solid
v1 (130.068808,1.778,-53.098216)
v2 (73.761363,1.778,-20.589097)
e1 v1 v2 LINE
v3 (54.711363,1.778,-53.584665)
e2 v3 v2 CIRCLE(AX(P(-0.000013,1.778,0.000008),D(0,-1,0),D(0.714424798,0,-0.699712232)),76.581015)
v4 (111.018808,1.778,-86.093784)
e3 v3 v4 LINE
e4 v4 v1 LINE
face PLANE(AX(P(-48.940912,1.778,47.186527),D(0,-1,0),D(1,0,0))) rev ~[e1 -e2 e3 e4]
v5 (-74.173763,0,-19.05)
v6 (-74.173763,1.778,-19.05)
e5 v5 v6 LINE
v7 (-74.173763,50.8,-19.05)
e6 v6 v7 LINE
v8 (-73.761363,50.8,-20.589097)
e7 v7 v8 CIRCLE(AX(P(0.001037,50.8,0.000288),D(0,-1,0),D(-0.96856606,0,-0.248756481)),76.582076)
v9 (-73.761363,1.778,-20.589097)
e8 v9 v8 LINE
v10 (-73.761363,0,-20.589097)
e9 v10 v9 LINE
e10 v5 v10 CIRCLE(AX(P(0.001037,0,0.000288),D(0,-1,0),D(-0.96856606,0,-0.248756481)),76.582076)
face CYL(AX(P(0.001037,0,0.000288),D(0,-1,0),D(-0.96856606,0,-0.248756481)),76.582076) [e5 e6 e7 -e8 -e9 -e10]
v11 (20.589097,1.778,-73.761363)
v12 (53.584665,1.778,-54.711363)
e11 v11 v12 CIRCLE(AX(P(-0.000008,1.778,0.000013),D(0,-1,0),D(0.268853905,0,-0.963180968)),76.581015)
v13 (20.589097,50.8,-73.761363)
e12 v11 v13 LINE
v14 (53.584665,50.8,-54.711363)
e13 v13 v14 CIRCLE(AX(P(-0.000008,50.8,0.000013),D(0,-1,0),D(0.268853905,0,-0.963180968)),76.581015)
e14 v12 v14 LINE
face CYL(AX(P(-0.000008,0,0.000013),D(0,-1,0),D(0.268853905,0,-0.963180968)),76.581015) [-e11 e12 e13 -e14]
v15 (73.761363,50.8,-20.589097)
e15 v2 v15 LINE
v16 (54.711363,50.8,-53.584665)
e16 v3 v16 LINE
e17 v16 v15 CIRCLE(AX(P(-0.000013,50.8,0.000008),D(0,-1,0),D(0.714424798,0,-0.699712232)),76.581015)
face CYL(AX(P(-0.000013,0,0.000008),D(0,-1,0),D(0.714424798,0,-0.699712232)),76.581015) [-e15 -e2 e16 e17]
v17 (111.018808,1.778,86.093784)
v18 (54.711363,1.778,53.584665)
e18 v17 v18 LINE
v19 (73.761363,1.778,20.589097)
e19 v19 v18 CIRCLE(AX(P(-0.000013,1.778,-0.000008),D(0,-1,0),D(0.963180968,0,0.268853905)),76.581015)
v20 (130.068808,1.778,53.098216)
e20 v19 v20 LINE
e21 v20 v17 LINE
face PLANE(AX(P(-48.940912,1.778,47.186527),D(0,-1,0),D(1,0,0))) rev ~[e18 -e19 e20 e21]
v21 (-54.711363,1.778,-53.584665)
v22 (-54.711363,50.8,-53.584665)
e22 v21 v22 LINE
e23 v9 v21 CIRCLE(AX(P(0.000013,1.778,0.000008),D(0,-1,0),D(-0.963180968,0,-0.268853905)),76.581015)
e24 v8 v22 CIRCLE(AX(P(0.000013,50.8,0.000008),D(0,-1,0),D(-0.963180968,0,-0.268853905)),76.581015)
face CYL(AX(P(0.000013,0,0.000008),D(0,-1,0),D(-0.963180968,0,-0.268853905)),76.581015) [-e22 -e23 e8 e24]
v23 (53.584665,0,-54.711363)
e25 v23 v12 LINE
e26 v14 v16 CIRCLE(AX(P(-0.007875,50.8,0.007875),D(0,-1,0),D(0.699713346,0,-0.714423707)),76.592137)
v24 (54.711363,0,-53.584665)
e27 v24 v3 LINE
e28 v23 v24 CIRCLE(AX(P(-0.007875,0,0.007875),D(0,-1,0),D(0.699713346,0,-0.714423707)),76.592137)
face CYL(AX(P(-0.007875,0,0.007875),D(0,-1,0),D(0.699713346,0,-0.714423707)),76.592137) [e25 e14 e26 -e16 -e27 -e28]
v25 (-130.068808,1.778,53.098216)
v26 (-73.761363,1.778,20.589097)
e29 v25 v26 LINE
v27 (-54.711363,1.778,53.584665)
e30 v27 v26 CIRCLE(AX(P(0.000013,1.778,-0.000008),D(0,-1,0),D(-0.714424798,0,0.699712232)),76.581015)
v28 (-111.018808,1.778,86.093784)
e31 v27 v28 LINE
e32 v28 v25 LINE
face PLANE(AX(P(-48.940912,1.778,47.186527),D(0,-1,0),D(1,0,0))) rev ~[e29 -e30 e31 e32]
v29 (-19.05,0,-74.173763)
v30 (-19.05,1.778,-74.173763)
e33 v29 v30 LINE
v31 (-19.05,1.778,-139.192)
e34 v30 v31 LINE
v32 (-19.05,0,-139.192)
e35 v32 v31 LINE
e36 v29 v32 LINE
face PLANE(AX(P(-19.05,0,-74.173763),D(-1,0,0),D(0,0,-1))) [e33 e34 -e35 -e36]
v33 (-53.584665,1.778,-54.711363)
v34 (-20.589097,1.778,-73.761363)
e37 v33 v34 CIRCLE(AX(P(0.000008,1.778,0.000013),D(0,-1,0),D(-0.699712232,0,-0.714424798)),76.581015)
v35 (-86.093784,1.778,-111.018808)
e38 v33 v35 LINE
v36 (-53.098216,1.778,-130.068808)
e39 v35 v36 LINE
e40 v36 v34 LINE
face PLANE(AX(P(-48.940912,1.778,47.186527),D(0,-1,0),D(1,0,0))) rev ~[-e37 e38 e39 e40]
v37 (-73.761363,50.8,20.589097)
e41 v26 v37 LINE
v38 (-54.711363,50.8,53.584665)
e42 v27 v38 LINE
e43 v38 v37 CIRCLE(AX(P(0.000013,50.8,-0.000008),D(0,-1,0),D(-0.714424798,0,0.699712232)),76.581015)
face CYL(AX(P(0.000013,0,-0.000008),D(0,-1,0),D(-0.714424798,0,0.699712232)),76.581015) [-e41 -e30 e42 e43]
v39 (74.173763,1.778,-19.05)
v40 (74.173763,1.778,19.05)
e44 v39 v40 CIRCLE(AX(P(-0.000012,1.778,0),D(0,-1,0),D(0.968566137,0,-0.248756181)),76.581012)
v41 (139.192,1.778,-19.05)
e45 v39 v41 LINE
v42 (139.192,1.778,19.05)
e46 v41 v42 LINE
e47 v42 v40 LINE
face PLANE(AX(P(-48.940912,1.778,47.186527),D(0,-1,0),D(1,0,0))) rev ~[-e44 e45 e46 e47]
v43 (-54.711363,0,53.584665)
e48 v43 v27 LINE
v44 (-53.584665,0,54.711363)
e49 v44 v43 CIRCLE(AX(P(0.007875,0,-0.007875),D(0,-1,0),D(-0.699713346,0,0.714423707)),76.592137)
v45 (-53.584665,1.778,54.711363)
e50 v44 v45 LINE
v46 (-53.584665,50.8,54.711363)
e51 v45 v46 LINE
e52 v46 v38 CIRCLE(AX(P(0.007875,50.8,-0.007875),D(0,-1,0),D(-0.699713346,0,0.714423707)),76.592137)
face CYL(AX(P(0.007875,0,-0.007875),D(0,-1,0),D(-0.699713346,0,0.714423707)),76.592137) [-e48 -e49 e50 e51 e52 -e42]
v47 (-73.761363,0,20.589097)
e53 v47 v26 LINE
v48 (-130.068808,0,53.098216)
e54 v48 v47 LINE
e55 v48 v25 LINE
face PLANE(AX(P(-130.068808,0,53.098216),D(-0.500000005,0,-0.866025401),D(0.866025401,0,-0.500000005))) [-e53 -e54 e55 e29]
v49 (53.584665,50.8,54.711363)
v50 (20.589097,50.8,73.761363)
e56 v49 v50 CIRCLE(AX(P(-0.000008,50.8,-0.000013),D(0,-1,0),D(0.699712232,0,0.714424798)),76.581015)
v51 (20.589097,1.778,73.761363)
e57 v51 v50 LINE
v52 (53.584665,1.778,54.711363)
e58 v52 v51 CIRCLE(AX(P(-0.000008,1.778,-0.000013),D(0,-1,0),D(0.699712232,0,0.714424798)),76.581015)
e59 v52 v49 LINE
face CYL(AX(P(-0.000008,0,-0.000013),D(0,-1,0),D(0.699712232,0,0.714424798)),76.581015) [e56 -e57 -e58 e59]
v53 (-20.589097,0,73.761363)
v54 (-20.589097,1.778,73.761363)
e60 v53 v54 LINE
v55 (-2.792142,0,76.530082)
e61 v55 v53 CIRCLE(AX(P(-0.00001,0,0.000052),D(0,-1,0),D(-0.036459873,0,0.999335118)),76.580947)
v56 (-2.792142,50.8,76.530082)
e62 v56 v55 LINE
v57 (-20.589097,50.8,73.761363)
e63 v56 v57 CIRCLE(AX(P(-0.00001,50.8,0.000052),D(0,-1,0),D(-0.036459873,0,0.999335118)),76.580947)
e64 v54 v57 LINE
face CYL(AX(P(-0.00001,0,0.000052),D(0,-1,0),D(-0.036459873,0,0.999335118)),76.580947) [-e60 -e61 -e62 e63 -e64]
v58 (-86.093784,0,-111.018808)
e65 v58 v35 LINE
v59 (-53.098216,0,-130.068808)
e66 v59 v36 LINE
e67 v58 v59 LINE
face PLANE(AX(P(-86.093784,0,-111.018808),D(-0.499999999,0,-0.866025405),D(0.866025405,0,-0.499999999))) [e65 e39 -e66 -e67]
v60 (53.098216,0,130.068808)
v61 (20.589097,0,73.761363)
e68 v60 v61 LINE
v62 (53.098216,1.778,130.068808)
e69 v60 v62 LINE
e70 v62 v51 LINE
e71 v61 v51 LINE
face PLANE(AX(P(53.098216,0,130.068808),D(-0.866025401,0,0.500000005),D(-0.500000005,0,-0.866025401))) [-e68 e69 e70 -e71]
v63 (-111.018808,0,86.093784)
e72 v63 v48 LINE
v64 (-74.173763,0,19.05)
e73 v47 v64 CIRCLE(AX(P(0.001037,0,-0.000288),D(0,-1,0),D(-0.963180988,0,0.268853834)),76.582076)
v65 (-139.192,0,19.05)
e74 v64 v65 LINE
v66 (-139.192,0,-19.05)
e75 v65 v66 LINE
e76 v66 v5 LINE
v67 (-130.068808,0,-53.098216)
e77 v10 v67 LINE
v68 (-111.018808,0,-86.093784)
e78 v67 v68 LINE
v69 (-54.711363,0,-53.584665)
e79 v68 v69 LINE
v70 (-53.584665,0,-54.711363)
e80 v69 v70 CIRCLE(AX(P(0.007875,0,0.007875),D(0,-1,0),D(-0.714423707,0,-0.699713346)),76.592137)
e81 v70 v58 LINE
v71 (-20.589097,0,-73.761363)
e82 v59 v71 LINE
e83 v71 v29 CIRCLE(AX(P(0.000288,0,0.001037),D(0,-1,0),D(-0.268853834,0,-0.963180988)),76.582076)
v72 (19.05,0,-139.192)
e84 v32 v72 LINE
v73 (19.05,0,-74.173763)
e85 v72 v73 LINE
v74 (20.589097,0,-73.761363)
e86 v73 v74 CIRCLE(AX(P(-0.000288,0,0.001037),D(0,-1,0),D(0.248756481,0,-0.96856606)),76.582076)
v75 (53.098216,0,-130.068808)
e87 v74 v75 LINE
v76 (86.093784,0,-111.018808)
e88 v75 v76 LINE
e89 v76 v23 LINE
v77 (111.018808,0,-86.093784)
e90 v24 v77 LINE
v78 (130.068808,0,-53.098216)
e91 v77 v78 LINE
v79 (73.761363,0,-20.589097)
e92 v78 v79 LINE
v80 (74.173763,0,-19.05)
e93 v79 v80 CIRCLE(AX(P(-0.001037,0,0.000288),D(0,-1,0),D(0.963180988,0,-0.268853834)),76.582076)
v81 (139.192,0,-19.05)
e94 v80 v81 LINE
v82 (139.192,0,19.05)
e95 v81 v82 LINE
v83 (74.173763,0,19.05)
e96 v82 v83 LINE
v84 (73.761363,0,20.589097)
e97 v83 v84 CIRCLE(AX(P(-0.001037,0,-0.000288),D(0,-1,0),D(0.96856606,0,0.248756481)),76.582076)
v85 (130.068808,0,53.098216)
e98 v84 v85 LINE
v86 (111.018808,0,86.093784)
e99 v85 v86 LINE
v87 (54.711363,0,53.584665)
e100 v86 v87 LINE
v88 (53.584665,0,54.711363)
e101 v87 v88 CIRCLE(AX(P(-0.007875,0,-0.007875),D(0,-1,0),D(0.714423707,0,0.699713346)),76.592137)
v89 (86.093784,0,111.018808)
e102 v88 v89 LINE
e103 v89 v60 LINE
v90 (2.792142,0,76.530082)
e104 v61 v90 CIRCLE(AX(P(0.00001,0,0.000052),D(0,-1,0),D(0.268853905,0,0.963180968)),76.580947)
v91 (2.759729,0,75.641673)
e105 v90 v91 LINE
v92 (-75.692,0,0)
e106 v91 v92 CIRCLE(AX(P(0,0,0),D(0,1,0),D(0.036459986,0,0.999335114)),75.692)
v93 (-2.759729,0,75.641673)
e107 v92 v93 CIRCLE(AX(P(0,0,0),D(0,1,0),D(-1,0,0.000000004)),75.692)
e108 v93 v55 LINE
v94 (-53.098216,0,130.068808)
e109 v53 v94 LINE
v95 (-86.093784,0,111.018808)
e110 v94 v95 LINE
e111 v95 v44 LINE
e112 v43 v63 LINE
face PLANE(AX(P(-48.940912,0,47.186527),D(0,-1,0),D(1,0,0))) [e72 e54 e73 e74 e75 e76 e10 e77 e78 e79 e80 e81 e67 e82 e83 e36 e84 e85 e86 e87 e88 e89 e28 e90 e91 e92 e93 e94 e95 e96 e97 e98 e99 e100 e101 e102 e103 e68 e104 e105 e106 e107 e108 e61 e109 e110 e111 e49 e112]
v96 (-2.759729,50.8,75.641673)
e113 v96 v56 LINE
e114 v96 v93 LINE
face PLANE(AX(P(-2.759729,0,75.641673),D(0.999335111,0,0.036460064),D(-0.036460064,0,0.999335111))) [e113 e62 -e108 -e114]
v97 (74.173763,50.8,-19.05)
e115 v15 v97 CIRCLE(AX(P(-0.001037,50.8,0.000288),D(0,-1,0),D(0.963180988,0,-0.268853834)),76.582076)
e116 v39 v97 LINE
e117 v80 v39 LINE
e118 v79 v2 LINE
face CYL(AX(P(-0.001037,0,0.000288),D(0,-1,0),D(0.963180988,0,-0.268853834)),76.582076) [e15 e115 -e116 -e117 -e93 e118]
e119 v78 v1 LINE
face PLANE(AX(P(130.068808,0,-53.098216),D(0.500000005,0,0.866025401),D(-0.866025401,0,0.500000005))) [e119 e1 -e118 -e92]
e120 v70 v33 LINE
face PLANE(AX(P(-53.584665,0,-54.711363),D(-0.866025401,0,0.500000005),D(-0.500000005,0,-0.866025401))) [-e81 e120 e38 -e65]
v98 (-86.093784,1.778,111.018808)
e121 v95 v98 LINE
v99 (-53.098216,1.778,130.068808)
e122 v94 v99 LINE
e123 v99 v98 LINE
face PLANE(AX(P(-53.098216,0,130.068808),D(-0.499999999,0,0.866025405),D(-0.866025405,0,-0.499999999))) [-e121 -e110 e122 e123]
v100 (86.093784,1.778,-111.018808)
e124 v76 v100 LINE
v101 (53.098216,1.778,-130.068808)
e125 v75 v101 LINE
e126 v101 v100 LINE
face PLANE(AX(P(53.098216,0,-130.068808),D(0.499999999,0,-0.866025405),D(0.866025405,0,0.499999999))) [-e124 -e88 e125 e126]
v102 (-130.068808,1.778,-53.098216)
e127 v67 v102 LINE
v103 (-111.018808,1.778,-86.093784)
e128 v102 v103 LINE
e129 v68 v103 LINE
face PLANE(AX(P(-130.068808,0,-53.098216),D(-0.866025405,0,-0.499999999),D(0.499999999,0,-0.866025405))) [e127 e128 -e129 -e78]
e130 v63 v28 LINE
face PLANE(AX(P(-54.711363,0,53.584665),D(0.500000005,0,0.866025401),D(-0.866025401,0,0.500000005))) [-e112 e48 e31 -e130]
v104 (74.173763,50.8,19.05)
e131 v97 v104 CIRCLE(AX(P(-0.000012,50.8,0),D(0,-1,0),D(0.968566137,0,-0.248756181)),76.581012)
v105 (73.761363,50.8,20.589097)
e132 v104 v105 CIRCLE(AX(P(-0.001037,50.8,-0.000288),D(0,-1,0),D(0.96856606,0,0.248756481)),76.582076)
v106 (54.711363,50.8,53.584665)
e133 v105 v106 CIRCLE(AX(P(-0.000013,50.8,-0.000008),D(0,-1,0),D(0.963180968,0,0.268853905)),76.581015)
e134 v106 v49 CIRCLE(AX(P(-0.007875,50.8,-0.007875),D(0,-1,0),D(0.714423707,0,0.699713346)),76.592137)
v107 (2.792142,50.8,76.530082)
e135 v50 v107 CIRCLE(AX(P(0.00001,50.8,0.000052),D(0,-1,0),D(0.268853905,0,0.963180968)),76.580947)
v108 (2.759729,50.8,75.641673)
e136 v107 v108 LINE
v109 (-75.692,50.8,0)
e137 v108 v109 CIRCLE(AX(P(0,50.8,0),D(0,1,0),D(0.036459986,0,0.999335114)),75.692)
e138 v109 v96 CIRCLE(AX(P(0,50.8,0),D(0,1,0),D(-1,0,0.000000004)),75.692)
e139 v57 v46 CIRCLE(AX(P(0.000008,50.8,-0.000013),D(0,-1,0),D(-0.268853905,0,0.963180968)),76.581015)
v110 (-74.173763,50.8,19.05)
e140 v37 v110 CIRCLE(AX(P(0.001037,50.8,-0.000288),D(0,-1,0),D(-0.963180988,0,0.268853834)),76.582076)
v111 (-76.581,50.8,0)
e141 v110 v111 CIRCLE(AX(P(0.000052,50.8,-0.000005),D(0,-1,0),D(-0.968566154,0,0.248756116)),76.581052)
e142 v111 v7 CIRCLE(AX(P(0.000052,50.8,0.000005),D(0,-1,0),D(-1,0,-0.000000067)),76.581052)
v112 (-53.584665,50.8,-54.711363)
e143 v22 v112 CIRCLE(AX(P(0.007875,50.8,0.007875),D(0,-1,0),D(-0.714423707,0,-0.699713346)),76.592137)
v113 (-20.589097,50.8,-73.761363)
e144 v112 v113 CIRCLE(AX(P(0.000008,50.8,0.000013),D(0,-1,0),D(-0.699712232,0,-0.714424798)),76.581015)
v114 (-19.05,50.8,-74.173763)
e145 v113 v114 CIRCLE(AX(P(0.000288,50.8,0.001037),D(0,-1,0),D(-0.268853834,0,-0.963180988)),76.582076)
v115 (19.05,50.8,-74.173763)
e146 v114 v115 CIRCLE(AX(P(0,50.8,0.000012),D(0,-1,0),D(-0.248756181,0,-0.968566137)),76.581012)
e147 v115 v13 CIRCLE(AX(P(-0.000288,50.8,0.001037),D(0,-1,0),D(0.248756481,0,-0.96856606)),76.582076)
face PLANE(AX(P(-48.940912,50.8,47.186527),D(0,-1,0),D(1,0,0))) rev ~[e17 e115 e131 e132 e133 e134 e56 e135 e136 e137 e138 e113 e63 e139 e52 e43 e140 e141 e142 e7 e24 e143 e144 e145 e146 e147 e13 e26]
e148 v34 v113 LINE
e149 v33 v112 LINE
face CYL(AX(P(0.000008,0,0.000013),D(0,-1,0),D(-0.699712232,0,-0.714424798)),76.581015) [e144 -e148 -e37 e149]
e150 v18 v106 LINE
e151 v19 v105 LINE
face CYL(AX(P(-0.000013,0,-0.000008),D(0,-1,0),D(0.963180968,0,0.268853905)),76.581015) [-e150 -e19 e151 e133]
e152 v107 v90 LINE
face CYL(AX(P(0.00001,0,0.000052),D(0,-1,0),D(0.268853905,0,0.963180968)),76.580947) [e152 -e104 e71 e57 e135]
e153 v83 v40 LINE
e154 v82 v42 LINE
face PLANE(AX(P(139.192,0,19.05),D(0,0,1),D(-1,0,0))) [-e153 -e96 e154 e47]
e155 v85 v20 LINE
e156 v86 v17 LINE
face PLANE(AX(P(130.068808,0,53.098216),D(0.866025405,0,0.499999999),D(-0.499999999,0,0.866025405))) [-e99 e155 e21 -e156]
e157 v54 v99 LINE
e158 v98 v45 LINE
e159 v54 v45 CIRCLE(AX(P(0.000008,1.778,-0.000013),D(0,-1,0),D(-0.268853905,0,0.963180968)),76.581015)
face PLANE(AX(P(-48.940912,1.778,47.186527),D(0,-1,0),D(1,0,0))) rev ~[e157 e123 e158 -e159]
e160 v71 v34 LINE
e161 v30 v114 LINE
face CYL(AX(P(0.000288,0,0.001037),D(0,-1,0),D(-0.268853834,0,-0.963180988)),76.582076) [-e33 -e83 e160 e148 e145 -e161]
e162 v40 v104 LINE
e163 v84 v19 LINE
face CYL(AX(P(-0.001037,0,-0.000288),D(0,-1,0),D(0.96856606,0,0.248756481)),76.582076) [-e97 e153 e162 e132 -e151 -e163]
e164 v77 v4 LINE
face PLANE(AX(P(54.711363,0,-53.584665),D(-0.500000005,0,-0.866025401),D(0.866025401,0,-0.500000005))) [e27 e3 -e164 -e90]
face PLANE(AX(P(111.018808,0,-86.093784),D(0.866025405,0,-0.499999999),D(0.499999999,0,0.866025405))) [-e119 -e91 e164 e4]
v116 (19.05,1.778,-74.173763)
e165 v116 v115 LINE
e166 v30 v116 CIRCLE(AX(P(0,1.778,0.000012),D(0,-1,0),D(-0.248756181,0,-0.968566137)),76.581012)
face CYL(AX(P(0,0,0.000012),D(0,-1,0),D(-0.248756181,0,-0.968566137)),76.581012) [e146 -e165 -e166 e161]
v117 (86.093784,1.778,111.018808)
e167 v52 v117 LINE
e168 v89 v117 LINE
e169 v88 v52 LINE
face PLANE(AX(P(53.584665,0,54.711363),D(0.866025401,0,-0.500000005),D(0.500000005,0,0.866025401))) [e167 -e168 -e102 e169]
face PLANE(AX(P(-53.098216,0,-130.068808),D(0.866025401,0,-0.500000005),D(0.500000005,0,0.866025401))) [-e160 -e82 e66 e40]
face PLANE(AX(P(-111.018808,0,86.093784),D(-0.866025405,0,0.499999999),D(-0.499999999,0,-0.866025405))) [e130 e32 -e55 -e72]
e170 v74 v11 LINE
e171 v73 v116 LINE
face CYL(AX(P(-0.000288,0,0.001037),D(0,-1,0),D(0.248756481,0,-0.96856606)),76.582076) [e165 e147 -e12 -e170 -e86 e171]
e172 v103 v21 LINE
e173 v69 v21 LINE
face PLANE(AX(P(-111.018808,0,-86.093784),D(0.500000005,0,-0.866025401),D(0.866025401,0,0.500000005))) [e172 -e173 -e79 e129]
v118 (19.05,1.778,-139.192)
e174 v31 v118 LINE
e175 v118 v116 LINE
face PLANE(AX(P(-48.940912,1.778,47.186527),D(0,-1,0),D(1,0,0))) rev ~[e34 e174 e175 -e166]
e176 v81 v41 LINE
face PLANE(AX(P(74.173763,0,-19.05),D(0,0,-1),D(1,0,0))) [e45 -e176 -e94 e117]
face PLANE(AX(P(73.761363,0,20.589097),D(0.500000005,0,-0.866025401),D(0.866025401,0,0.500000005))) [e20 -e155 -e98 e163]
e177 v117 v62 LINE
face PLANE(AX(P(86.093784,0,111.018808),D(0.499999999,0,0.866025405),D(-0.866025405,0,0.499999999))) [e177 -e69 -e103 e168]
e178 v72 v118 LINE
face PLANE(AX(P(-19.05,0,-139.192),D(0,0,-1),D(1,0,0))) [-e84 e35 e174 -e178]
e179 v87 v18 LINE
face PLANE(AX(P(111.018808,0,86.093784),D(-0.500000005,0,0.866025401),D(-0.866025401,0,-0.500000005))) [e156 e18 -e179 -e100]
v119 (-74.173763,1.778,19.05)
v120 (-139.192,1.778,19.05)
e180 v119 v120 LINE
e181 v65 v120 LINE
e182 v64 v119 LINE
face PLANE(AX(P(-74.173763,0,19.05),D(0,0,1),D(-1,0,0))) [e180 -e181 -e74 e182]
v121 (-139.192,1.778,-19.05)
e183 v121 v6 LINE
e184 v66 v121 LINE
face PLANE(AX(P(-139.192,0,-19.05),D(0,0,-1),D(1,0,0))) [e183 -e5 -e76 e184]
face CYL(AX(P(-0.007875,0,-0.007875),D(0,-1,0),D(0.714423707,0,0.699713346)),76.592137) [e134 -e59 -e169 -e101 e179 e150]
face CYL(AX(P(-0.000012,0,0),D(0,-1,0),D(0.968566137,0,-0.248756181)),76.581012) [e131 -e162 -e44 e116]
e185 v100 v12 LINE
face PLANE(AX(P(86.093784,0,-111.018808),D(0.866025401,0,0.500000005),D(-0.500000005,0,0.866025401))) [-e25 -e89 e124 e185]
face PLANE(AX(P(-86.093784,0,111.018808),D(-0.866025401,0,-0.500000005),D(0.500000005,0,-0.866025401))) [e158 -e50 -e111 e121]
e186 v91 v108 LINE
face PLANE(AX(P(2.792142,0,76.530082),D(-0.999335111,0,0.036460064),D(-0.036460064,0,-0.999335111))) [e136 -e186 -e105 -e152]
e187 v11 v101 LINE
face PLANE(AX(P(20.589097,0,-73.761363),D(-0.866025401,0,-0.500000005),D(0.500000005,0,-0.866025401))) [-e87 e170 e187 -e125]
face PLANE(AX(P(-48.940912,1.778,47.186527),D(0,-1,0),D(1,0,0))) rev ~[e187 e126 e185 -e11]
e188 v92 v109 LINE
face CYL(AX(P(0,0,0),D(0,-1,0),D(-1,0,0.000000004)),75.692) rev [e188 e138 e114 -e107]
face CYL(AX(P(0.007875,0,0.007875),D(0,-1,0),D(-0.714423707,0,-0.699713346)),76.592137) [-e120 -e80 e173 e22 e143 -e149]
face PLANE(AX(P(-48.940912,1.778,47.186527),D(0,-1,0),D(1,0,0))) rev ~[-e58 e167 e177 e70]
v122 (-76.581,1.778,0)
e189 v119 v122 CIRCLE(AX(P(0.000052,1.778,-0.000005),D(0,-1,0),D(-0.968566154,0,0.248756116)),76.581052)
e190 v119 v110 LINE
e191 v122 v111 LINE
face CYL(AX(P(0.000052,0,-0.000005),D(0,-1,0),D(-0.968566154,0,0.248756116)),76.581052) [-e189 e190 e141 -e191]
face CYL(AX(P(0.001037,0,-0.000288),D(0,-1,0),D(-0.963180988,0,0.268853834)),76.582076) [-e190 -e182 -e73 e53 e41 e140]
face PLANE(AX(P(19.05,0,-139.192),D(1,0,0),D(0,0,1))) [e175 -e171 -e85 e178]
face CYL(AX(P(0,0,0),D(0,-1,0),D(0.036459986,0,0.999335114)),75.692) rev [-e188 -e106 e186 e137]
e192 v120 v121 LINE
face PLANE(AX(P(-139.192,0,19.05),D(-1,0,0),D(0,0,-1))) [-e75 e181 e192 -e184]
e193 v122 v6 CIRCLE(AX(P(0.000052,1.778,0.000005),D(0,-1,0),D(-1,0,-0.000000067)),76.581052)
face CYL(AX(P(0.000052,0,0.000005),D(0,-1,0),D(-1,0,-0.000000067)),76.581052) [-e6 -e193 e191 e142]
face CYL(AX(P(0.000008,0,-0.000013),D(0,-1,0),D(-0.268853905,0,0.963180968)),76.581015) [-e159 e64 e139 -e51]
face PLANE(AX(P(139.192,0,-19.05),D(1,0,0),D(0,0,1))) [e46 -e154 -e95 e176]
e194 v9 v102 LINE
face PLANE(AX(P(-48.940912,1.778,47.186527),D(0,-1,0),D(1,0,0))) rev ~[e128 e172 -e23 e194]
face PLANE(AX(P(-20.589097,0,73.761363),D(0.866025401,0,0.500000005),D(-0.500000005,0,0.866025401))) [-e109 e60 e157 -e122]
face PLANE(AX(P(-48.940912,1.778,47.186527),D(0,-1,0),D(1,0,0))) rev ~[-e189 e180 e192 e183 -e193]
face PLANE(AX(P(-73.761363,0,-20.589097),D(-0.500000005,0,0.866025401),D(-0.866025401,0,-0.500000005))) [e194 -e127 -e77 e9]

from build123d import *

# Parameters (mm, degrees)
F1_DEPTH = 50.8
F2_DEPTH = 1.778


with BuildPart() as f1:
    # F0 (on Front) → F1 (new body)
    with BuildSketch(Plane.XZ):
        with BuildLine():
            ThreePointArc((-75.692, 0), (-54.489303, 52.537555), (-2.759729, 75.641673))
            Line((-2.759729, 75.641673), (-2.792142, 76.530082))
            ThreePointArc((-2.792142, 76.530082), (-11.7723, 75.670751), (-20.589097, 73.761363))
            ThreePointArc((-20.589097, 73.761363), (-38.2905, 66.321091), (-53.584665, 54.711363))
            ThreePointArc((-53.584665, 54.711363), (-54.150944, 54.150944), (-54.711363, 53.584665))
            ThreePointArc((-54.711363, 53.584665), (-66.321091, 38.2905), (-73.761363, 20.589097))
            ThreePointArc((-73.761363, 20.589097), (-73.971566, 19.820621), (-74.173763, 19.05))
            ThreePointArc((-74.173763, 19.05), (-75.976807, 9.600746), (-76.581, 0))
            Line((-76.581, 0), (-75.692, 0))
        make_face()
        with BuildLine():
            ThreePointArc((2.759729, 75.641673), (52.537555, -54.489303), (-75.692, 0))
            Line((-75.692, 0), (-76.581, 0))
            ThreePointArc((-76.581, 0), (-75.976807, -9.600746), (-74.173763, -19.05))
            ThreePointArc((-74.173763, -19.05), (-73.971566, -19.820621), (-73.761363, -20.589097))
            ThreePointArc((-73.761363, -20.589097), (-66.321091, -38.2905), (-54.711363, -53.584665))
            ThreePointArc((-54.711363, -53.584665), (-54.150944, -54.150944), (-53.584665, -54.711363))
            ThreePointArc((-53.584665, -54.711363), (-38.2905, -66.321091), (-20.589097, -73.761363))
            ThreePointArc((-20.589097, -73.761363), (-19.820621, -73.971566), (-19.05, -74.173763))
            ThreePointArc((-19.05, -74.173763), (0, -76.581), (19.05, -74.173763))
            ThreePointArc((19.05, -74.173763), (19.820621, -73.971566), (20.589097, -73.761363))
            ThreePointArc((20.589097, -73.761363), (38.2905, -66.321091), (53.584665, -54.711363))
            ThreePointArc((53.584665, -54.711363), (54.150944, -54.150944), (54.711363, -53.584665))
            ThreePointArc((54.711363, -53.584665), (66.321091, -38.2905), (73.761363, -20.589097))
            ThreePointArc((73.761363, -20.589097), (73.971566, -19.820621), (74.173763, -19.05))
            ThreePointArc((74.173763, -19.05), (76.581, 0), (74.173763, 19.05))
            ThreePointArc((74.173763, 19.05), (73.971566, 19.820621), (73.761363, 20.589097))
            ThreePointArc((73.761363, 20.589097), (66.321091, 38.2905), (54.711363, 53.584665))
            ThreePointArc((54.711363, 53.584665), (54.150944, 54.150944), (53.584665, 54.711363))
            ThreePointArc((53.584665, 54.711363), (38.2905, 66.321091), (20.589097, 73.761363))
            ThreePointArc((20.589097, 73.761363), (11.7723, 75.670751), (2.792142, 76.530082))
            Line((2.792142, 76.530082), (2.759729, 75.641673))
        make_face()
    extrude(amount=-F1_DEPTH)

    # F0 (on Front) → F2 (join)
    with BuildSketch(Plane.XZ):
        with BuildLine():
            ThreePointArc((-75.692, 0), (-54.489303, 52.537555), (-2.759729, 75.641673))
            Line((-2.759729, 75.641673), (-2.792142, 76.530082))
            ThreePointArc((-2.792142, 76.530082), (-11.7723, 75.670751), (-20.589097, 73.761363))
            ThreePointArc((-20.589097, 73.761363), (-38.2905, 66.321091), (-53.584665, 54.711363))
            ThreePointArc((-53.584665, 54.711363), (-54.150944, 54.150944), (-54.711363, 53.584665))
            ThreePointArc((-54.711363, 53.584665), (-66.321091, 38.2905), (-73.761363, 20.589097))
            ThreePointArc((-73.761363, 20.589097), (-73.971566, 19.820621), (-74.173763, 19.05))
            ThreePointArc((-74.173763, 19.05), (-75.976807, 9.600746), (-76.581, 0))
            Line((-76.581, 0), (-75.692, 0))
        make_face()
        with BuildLine():
            ThreePointArc((2.759729, 75.641673), (52.537555, -54.489303), (-75.692, 0))
            Line((-75.692, 0), (-76.581, 0))
            ThreePointArc((-76.581, 0), (-75.976807, -9.600746), (-74.173763, -19.05))
            ThreePointArc((-74.173763, -19.05), (-73.971566, -19.820621), (-73.761363, -20.589097))
            ThreePointArc((-73.761363, -20.589097), (-66.321091, -38.2905), (-54.711363, -53.584665))
            ThreePointArc((-54.711363, -53.584665), (-54.150944, -54.150944), (-53.584665, -54.711363))
            ThreePointArc((-53.584665, -54.711363), (-38.2905, -66.321091), (-20.589097, -73.761363))
            ThreePointArc((-20.589097, -73.761363), (-19.820621, -73.971566), (-19.05, -74.173763))
            ThreePointArc((-19.05, -74.173763), (0, -76.581), (19.05, -74.173763))
            ThreePointArc((19.05, -74.173763), (19.820621, -73.971566), (20.589097, -73.761363))
            ThreePointArc((20.589097, -73.761363), (38.2905, -66.321091), (53.584665, -54.711363))
            ThreePointArc((53.584665, -54.711363), (54.150944, -54.150944), (54.711363, -53.584665))
            ThreePointArc((54.711363, -53.584665), (66.321091, -38.2905), (73.761363, -20.589097))
            ThreePointArc((73.761363, -20.589097), (73.971566, -19.820621), (74.173763, -19.05))
            ThreePointArc((74.173763, -19.05), (76.581, 0), (74.173763, 19.05))
            ThreePointArc((74.173763, 19.05), (73.971566, 19.820621), (73.761363, 20.589097))
            ThreePointArc((73.761363, 20.589097), (66.321091, 38.2905), (54.711363, 53.584665))
            ThreePointArc((54.711363, 53.584665), (54.150944, 54.150944), (53.584665, 54.711363))
            ThreePointArc((53.584665, 54.711363), (38.2905, 66.321091), (20.589097, 73.761363))
            ThreePointArc((20.589097, 73.761363), (11.7723, 75.670751), (2.792142, 76.530082))
            Line((2.792142, 76.530082), (2.759729, 75.641673))
        make_face()
        with BuildLine():
            Line((-139.192, 0), (-76.581, 0))
            ThreePointArc((-76.581, 0), (-75.976807, 9.600746), (-74.173763, 19.05))
            Line((-74.173763, 19.05), (-139.192, 19.05))
            Line((-139.192, 19.05), (-139.192, 0))
        make_face()
        with BuildLine():
            ThreePointArc((-74.173763, -19.05), (-75.976807, -9.600746), (-76.581, 0))
            Line((-76.581, 0), (-139.192, 0))
            Line((-139.192, 0), (-139.192, -19.05))
            Line((-139.192, -19.05), (-74.173763, -19.05))
        make_face()
        with BuildLine():
            ThreePointArc((-53.584665, 54.711363), (-38.2905, 66.321091), (-20.589097, 73.761363))
            Line((-20.589097, 73.761363), (-53.098216, 130.068808))
            Line((-53.098216, 130.068808), (-69.596, 120.543808))
            Line((-69.596, 120.543808), (-86.093784, 111.018808))
            Line((-86.093784, 111.018808), (-53.584665, 54.711363))
        make_face()
        with BuildLine():
            Line((53.098216, 130.068808), (20.589097, 73.761363))
            ThreePointArc((20.589097, 73.761363), (38.2905, 66.321091), (53.584665, 54.711363))
            Line((53.584665, 54.711363), (86.093784, 111.018808))
            Line((86.093784, 111.018808), (69.596, 120.543808))
            Line((69.596, 120.543808), (53.098216, 130.068808))
        make_face()
        with BuildLine():
            Line((-130.068808, 53.098216), (-73.761363, 20.589097))
            ThreePointArc((-73.761363, 20.589097), (-66.321091, 38.2905), (-54.711363, 53.584665))
            Line((-54.711363, 53.584665), (-111.018808, 86.093784))
            Line((-111.018808, 86.093784), (-120.543808, 69.596))
            Line((-120.543808, 69.596), (-130.068808, 53.098216))
        make_face()
        with BuildLine():
            ThreePointArc((-54.711363, -53.584665), (-66.321091, -38.2905), (-73.761363, -20.589097))
            Line((-73.761363, -20.589097), (-130.068808, -53.098216))
            Line((-130.068808, -53.098216), (-120.543808, -69.596))
            Line((-120.543808, -69.596), (-111.018808, -86.093784))
            Line((-111.018808, -86.093784), (-54.711363, -53.584665))
        make_face()
        with BuildLine():
            Line((111.018808, 86.093784), (54.711363, 53.584665))
            ThreePointArc((54.711363, 53.584665), (66.321091, 38.2905), (73.761363, 20.589097))
            Line((73.761363, 20.589097), (130.068808, 53.098216))
            Line((130.068808, 53.098216), (120.543808, 69.596))
            Line((120.543808, 69.596), (111.018808, 86.093784))
        make_face()
        with BuildLine():
            ThreePointArc((-20.589097, -73.761363), (-38.2905, -66.321091), (-53.584665, -54.711363))
            Line((-53.584665, -54.711363), (-86.093784, -111.018808))
            Line((-86.093784, -111.018808), (-69.596, -120.543808))
            Line((-69.596, -120.543808), (-53.098216, -130.068808))
            Line((-53.098216, -130.068808), (-20.589097, -73.761363))
        make_face()
        with BuildLine():
            Line((139.192, 19.05), (74.173763, 19.05))
            ThreePointArc((74.173763, 19.05), (76.581, 0), (74.173763, -19.05))
            Line((74.173763, -19.05), (139.192, -19.05))
            Line((139.192, -19.05), (139.192, 0))
            Line((139.192, 0), (139.192, 19.05))
        make_face()
        with BuildLine():
            ThreePointArc((19.05, -74.173763), (0, -76.581), (-19.05, -74.173763))
            Line((-19.05, -74.173763), (-19.05, -139.192))
            Line((-19.05, -139.192), (0, -139.192))
            Line((0, -139.192), (19.05, -139.192))
            Line((19.05, -139.192), (19.05, -74.173763))
        make_face()
        with BuildLine():
            Line((130.068808, -53.098216), (73.761363, -20.589097))
            ThreePointArc((73.761363, -20.589097), (66.321091, -38.2905), (54.711363, -53.584665))
            Line((54.711363, -53.584665), (111.018808, -86.093784))
            Line((111.018808, -86.093784), (120.543808, -69.596))
            Line((120.543808, -69.596), (130.068808, -53.098216))
        make_face()
        with BuildLine():
            ThreePointArc((53.584665, -54.711363), (38.2905, -66.321091), (20.589097, -73.761363))
            Line((20.589097, -73.761363), (53.098216, -130.068808))
            Line((53.098216, -130.068808), (69.596, -120.543808))
            Line((69.596, -120.543808), (86.093784, -111.018808))
            Line((86.093784, -111.018808), (53.584665, -54.711363))
        make_face()
    extrude(amount=-F2_DEPTH)


solid = f1.part
